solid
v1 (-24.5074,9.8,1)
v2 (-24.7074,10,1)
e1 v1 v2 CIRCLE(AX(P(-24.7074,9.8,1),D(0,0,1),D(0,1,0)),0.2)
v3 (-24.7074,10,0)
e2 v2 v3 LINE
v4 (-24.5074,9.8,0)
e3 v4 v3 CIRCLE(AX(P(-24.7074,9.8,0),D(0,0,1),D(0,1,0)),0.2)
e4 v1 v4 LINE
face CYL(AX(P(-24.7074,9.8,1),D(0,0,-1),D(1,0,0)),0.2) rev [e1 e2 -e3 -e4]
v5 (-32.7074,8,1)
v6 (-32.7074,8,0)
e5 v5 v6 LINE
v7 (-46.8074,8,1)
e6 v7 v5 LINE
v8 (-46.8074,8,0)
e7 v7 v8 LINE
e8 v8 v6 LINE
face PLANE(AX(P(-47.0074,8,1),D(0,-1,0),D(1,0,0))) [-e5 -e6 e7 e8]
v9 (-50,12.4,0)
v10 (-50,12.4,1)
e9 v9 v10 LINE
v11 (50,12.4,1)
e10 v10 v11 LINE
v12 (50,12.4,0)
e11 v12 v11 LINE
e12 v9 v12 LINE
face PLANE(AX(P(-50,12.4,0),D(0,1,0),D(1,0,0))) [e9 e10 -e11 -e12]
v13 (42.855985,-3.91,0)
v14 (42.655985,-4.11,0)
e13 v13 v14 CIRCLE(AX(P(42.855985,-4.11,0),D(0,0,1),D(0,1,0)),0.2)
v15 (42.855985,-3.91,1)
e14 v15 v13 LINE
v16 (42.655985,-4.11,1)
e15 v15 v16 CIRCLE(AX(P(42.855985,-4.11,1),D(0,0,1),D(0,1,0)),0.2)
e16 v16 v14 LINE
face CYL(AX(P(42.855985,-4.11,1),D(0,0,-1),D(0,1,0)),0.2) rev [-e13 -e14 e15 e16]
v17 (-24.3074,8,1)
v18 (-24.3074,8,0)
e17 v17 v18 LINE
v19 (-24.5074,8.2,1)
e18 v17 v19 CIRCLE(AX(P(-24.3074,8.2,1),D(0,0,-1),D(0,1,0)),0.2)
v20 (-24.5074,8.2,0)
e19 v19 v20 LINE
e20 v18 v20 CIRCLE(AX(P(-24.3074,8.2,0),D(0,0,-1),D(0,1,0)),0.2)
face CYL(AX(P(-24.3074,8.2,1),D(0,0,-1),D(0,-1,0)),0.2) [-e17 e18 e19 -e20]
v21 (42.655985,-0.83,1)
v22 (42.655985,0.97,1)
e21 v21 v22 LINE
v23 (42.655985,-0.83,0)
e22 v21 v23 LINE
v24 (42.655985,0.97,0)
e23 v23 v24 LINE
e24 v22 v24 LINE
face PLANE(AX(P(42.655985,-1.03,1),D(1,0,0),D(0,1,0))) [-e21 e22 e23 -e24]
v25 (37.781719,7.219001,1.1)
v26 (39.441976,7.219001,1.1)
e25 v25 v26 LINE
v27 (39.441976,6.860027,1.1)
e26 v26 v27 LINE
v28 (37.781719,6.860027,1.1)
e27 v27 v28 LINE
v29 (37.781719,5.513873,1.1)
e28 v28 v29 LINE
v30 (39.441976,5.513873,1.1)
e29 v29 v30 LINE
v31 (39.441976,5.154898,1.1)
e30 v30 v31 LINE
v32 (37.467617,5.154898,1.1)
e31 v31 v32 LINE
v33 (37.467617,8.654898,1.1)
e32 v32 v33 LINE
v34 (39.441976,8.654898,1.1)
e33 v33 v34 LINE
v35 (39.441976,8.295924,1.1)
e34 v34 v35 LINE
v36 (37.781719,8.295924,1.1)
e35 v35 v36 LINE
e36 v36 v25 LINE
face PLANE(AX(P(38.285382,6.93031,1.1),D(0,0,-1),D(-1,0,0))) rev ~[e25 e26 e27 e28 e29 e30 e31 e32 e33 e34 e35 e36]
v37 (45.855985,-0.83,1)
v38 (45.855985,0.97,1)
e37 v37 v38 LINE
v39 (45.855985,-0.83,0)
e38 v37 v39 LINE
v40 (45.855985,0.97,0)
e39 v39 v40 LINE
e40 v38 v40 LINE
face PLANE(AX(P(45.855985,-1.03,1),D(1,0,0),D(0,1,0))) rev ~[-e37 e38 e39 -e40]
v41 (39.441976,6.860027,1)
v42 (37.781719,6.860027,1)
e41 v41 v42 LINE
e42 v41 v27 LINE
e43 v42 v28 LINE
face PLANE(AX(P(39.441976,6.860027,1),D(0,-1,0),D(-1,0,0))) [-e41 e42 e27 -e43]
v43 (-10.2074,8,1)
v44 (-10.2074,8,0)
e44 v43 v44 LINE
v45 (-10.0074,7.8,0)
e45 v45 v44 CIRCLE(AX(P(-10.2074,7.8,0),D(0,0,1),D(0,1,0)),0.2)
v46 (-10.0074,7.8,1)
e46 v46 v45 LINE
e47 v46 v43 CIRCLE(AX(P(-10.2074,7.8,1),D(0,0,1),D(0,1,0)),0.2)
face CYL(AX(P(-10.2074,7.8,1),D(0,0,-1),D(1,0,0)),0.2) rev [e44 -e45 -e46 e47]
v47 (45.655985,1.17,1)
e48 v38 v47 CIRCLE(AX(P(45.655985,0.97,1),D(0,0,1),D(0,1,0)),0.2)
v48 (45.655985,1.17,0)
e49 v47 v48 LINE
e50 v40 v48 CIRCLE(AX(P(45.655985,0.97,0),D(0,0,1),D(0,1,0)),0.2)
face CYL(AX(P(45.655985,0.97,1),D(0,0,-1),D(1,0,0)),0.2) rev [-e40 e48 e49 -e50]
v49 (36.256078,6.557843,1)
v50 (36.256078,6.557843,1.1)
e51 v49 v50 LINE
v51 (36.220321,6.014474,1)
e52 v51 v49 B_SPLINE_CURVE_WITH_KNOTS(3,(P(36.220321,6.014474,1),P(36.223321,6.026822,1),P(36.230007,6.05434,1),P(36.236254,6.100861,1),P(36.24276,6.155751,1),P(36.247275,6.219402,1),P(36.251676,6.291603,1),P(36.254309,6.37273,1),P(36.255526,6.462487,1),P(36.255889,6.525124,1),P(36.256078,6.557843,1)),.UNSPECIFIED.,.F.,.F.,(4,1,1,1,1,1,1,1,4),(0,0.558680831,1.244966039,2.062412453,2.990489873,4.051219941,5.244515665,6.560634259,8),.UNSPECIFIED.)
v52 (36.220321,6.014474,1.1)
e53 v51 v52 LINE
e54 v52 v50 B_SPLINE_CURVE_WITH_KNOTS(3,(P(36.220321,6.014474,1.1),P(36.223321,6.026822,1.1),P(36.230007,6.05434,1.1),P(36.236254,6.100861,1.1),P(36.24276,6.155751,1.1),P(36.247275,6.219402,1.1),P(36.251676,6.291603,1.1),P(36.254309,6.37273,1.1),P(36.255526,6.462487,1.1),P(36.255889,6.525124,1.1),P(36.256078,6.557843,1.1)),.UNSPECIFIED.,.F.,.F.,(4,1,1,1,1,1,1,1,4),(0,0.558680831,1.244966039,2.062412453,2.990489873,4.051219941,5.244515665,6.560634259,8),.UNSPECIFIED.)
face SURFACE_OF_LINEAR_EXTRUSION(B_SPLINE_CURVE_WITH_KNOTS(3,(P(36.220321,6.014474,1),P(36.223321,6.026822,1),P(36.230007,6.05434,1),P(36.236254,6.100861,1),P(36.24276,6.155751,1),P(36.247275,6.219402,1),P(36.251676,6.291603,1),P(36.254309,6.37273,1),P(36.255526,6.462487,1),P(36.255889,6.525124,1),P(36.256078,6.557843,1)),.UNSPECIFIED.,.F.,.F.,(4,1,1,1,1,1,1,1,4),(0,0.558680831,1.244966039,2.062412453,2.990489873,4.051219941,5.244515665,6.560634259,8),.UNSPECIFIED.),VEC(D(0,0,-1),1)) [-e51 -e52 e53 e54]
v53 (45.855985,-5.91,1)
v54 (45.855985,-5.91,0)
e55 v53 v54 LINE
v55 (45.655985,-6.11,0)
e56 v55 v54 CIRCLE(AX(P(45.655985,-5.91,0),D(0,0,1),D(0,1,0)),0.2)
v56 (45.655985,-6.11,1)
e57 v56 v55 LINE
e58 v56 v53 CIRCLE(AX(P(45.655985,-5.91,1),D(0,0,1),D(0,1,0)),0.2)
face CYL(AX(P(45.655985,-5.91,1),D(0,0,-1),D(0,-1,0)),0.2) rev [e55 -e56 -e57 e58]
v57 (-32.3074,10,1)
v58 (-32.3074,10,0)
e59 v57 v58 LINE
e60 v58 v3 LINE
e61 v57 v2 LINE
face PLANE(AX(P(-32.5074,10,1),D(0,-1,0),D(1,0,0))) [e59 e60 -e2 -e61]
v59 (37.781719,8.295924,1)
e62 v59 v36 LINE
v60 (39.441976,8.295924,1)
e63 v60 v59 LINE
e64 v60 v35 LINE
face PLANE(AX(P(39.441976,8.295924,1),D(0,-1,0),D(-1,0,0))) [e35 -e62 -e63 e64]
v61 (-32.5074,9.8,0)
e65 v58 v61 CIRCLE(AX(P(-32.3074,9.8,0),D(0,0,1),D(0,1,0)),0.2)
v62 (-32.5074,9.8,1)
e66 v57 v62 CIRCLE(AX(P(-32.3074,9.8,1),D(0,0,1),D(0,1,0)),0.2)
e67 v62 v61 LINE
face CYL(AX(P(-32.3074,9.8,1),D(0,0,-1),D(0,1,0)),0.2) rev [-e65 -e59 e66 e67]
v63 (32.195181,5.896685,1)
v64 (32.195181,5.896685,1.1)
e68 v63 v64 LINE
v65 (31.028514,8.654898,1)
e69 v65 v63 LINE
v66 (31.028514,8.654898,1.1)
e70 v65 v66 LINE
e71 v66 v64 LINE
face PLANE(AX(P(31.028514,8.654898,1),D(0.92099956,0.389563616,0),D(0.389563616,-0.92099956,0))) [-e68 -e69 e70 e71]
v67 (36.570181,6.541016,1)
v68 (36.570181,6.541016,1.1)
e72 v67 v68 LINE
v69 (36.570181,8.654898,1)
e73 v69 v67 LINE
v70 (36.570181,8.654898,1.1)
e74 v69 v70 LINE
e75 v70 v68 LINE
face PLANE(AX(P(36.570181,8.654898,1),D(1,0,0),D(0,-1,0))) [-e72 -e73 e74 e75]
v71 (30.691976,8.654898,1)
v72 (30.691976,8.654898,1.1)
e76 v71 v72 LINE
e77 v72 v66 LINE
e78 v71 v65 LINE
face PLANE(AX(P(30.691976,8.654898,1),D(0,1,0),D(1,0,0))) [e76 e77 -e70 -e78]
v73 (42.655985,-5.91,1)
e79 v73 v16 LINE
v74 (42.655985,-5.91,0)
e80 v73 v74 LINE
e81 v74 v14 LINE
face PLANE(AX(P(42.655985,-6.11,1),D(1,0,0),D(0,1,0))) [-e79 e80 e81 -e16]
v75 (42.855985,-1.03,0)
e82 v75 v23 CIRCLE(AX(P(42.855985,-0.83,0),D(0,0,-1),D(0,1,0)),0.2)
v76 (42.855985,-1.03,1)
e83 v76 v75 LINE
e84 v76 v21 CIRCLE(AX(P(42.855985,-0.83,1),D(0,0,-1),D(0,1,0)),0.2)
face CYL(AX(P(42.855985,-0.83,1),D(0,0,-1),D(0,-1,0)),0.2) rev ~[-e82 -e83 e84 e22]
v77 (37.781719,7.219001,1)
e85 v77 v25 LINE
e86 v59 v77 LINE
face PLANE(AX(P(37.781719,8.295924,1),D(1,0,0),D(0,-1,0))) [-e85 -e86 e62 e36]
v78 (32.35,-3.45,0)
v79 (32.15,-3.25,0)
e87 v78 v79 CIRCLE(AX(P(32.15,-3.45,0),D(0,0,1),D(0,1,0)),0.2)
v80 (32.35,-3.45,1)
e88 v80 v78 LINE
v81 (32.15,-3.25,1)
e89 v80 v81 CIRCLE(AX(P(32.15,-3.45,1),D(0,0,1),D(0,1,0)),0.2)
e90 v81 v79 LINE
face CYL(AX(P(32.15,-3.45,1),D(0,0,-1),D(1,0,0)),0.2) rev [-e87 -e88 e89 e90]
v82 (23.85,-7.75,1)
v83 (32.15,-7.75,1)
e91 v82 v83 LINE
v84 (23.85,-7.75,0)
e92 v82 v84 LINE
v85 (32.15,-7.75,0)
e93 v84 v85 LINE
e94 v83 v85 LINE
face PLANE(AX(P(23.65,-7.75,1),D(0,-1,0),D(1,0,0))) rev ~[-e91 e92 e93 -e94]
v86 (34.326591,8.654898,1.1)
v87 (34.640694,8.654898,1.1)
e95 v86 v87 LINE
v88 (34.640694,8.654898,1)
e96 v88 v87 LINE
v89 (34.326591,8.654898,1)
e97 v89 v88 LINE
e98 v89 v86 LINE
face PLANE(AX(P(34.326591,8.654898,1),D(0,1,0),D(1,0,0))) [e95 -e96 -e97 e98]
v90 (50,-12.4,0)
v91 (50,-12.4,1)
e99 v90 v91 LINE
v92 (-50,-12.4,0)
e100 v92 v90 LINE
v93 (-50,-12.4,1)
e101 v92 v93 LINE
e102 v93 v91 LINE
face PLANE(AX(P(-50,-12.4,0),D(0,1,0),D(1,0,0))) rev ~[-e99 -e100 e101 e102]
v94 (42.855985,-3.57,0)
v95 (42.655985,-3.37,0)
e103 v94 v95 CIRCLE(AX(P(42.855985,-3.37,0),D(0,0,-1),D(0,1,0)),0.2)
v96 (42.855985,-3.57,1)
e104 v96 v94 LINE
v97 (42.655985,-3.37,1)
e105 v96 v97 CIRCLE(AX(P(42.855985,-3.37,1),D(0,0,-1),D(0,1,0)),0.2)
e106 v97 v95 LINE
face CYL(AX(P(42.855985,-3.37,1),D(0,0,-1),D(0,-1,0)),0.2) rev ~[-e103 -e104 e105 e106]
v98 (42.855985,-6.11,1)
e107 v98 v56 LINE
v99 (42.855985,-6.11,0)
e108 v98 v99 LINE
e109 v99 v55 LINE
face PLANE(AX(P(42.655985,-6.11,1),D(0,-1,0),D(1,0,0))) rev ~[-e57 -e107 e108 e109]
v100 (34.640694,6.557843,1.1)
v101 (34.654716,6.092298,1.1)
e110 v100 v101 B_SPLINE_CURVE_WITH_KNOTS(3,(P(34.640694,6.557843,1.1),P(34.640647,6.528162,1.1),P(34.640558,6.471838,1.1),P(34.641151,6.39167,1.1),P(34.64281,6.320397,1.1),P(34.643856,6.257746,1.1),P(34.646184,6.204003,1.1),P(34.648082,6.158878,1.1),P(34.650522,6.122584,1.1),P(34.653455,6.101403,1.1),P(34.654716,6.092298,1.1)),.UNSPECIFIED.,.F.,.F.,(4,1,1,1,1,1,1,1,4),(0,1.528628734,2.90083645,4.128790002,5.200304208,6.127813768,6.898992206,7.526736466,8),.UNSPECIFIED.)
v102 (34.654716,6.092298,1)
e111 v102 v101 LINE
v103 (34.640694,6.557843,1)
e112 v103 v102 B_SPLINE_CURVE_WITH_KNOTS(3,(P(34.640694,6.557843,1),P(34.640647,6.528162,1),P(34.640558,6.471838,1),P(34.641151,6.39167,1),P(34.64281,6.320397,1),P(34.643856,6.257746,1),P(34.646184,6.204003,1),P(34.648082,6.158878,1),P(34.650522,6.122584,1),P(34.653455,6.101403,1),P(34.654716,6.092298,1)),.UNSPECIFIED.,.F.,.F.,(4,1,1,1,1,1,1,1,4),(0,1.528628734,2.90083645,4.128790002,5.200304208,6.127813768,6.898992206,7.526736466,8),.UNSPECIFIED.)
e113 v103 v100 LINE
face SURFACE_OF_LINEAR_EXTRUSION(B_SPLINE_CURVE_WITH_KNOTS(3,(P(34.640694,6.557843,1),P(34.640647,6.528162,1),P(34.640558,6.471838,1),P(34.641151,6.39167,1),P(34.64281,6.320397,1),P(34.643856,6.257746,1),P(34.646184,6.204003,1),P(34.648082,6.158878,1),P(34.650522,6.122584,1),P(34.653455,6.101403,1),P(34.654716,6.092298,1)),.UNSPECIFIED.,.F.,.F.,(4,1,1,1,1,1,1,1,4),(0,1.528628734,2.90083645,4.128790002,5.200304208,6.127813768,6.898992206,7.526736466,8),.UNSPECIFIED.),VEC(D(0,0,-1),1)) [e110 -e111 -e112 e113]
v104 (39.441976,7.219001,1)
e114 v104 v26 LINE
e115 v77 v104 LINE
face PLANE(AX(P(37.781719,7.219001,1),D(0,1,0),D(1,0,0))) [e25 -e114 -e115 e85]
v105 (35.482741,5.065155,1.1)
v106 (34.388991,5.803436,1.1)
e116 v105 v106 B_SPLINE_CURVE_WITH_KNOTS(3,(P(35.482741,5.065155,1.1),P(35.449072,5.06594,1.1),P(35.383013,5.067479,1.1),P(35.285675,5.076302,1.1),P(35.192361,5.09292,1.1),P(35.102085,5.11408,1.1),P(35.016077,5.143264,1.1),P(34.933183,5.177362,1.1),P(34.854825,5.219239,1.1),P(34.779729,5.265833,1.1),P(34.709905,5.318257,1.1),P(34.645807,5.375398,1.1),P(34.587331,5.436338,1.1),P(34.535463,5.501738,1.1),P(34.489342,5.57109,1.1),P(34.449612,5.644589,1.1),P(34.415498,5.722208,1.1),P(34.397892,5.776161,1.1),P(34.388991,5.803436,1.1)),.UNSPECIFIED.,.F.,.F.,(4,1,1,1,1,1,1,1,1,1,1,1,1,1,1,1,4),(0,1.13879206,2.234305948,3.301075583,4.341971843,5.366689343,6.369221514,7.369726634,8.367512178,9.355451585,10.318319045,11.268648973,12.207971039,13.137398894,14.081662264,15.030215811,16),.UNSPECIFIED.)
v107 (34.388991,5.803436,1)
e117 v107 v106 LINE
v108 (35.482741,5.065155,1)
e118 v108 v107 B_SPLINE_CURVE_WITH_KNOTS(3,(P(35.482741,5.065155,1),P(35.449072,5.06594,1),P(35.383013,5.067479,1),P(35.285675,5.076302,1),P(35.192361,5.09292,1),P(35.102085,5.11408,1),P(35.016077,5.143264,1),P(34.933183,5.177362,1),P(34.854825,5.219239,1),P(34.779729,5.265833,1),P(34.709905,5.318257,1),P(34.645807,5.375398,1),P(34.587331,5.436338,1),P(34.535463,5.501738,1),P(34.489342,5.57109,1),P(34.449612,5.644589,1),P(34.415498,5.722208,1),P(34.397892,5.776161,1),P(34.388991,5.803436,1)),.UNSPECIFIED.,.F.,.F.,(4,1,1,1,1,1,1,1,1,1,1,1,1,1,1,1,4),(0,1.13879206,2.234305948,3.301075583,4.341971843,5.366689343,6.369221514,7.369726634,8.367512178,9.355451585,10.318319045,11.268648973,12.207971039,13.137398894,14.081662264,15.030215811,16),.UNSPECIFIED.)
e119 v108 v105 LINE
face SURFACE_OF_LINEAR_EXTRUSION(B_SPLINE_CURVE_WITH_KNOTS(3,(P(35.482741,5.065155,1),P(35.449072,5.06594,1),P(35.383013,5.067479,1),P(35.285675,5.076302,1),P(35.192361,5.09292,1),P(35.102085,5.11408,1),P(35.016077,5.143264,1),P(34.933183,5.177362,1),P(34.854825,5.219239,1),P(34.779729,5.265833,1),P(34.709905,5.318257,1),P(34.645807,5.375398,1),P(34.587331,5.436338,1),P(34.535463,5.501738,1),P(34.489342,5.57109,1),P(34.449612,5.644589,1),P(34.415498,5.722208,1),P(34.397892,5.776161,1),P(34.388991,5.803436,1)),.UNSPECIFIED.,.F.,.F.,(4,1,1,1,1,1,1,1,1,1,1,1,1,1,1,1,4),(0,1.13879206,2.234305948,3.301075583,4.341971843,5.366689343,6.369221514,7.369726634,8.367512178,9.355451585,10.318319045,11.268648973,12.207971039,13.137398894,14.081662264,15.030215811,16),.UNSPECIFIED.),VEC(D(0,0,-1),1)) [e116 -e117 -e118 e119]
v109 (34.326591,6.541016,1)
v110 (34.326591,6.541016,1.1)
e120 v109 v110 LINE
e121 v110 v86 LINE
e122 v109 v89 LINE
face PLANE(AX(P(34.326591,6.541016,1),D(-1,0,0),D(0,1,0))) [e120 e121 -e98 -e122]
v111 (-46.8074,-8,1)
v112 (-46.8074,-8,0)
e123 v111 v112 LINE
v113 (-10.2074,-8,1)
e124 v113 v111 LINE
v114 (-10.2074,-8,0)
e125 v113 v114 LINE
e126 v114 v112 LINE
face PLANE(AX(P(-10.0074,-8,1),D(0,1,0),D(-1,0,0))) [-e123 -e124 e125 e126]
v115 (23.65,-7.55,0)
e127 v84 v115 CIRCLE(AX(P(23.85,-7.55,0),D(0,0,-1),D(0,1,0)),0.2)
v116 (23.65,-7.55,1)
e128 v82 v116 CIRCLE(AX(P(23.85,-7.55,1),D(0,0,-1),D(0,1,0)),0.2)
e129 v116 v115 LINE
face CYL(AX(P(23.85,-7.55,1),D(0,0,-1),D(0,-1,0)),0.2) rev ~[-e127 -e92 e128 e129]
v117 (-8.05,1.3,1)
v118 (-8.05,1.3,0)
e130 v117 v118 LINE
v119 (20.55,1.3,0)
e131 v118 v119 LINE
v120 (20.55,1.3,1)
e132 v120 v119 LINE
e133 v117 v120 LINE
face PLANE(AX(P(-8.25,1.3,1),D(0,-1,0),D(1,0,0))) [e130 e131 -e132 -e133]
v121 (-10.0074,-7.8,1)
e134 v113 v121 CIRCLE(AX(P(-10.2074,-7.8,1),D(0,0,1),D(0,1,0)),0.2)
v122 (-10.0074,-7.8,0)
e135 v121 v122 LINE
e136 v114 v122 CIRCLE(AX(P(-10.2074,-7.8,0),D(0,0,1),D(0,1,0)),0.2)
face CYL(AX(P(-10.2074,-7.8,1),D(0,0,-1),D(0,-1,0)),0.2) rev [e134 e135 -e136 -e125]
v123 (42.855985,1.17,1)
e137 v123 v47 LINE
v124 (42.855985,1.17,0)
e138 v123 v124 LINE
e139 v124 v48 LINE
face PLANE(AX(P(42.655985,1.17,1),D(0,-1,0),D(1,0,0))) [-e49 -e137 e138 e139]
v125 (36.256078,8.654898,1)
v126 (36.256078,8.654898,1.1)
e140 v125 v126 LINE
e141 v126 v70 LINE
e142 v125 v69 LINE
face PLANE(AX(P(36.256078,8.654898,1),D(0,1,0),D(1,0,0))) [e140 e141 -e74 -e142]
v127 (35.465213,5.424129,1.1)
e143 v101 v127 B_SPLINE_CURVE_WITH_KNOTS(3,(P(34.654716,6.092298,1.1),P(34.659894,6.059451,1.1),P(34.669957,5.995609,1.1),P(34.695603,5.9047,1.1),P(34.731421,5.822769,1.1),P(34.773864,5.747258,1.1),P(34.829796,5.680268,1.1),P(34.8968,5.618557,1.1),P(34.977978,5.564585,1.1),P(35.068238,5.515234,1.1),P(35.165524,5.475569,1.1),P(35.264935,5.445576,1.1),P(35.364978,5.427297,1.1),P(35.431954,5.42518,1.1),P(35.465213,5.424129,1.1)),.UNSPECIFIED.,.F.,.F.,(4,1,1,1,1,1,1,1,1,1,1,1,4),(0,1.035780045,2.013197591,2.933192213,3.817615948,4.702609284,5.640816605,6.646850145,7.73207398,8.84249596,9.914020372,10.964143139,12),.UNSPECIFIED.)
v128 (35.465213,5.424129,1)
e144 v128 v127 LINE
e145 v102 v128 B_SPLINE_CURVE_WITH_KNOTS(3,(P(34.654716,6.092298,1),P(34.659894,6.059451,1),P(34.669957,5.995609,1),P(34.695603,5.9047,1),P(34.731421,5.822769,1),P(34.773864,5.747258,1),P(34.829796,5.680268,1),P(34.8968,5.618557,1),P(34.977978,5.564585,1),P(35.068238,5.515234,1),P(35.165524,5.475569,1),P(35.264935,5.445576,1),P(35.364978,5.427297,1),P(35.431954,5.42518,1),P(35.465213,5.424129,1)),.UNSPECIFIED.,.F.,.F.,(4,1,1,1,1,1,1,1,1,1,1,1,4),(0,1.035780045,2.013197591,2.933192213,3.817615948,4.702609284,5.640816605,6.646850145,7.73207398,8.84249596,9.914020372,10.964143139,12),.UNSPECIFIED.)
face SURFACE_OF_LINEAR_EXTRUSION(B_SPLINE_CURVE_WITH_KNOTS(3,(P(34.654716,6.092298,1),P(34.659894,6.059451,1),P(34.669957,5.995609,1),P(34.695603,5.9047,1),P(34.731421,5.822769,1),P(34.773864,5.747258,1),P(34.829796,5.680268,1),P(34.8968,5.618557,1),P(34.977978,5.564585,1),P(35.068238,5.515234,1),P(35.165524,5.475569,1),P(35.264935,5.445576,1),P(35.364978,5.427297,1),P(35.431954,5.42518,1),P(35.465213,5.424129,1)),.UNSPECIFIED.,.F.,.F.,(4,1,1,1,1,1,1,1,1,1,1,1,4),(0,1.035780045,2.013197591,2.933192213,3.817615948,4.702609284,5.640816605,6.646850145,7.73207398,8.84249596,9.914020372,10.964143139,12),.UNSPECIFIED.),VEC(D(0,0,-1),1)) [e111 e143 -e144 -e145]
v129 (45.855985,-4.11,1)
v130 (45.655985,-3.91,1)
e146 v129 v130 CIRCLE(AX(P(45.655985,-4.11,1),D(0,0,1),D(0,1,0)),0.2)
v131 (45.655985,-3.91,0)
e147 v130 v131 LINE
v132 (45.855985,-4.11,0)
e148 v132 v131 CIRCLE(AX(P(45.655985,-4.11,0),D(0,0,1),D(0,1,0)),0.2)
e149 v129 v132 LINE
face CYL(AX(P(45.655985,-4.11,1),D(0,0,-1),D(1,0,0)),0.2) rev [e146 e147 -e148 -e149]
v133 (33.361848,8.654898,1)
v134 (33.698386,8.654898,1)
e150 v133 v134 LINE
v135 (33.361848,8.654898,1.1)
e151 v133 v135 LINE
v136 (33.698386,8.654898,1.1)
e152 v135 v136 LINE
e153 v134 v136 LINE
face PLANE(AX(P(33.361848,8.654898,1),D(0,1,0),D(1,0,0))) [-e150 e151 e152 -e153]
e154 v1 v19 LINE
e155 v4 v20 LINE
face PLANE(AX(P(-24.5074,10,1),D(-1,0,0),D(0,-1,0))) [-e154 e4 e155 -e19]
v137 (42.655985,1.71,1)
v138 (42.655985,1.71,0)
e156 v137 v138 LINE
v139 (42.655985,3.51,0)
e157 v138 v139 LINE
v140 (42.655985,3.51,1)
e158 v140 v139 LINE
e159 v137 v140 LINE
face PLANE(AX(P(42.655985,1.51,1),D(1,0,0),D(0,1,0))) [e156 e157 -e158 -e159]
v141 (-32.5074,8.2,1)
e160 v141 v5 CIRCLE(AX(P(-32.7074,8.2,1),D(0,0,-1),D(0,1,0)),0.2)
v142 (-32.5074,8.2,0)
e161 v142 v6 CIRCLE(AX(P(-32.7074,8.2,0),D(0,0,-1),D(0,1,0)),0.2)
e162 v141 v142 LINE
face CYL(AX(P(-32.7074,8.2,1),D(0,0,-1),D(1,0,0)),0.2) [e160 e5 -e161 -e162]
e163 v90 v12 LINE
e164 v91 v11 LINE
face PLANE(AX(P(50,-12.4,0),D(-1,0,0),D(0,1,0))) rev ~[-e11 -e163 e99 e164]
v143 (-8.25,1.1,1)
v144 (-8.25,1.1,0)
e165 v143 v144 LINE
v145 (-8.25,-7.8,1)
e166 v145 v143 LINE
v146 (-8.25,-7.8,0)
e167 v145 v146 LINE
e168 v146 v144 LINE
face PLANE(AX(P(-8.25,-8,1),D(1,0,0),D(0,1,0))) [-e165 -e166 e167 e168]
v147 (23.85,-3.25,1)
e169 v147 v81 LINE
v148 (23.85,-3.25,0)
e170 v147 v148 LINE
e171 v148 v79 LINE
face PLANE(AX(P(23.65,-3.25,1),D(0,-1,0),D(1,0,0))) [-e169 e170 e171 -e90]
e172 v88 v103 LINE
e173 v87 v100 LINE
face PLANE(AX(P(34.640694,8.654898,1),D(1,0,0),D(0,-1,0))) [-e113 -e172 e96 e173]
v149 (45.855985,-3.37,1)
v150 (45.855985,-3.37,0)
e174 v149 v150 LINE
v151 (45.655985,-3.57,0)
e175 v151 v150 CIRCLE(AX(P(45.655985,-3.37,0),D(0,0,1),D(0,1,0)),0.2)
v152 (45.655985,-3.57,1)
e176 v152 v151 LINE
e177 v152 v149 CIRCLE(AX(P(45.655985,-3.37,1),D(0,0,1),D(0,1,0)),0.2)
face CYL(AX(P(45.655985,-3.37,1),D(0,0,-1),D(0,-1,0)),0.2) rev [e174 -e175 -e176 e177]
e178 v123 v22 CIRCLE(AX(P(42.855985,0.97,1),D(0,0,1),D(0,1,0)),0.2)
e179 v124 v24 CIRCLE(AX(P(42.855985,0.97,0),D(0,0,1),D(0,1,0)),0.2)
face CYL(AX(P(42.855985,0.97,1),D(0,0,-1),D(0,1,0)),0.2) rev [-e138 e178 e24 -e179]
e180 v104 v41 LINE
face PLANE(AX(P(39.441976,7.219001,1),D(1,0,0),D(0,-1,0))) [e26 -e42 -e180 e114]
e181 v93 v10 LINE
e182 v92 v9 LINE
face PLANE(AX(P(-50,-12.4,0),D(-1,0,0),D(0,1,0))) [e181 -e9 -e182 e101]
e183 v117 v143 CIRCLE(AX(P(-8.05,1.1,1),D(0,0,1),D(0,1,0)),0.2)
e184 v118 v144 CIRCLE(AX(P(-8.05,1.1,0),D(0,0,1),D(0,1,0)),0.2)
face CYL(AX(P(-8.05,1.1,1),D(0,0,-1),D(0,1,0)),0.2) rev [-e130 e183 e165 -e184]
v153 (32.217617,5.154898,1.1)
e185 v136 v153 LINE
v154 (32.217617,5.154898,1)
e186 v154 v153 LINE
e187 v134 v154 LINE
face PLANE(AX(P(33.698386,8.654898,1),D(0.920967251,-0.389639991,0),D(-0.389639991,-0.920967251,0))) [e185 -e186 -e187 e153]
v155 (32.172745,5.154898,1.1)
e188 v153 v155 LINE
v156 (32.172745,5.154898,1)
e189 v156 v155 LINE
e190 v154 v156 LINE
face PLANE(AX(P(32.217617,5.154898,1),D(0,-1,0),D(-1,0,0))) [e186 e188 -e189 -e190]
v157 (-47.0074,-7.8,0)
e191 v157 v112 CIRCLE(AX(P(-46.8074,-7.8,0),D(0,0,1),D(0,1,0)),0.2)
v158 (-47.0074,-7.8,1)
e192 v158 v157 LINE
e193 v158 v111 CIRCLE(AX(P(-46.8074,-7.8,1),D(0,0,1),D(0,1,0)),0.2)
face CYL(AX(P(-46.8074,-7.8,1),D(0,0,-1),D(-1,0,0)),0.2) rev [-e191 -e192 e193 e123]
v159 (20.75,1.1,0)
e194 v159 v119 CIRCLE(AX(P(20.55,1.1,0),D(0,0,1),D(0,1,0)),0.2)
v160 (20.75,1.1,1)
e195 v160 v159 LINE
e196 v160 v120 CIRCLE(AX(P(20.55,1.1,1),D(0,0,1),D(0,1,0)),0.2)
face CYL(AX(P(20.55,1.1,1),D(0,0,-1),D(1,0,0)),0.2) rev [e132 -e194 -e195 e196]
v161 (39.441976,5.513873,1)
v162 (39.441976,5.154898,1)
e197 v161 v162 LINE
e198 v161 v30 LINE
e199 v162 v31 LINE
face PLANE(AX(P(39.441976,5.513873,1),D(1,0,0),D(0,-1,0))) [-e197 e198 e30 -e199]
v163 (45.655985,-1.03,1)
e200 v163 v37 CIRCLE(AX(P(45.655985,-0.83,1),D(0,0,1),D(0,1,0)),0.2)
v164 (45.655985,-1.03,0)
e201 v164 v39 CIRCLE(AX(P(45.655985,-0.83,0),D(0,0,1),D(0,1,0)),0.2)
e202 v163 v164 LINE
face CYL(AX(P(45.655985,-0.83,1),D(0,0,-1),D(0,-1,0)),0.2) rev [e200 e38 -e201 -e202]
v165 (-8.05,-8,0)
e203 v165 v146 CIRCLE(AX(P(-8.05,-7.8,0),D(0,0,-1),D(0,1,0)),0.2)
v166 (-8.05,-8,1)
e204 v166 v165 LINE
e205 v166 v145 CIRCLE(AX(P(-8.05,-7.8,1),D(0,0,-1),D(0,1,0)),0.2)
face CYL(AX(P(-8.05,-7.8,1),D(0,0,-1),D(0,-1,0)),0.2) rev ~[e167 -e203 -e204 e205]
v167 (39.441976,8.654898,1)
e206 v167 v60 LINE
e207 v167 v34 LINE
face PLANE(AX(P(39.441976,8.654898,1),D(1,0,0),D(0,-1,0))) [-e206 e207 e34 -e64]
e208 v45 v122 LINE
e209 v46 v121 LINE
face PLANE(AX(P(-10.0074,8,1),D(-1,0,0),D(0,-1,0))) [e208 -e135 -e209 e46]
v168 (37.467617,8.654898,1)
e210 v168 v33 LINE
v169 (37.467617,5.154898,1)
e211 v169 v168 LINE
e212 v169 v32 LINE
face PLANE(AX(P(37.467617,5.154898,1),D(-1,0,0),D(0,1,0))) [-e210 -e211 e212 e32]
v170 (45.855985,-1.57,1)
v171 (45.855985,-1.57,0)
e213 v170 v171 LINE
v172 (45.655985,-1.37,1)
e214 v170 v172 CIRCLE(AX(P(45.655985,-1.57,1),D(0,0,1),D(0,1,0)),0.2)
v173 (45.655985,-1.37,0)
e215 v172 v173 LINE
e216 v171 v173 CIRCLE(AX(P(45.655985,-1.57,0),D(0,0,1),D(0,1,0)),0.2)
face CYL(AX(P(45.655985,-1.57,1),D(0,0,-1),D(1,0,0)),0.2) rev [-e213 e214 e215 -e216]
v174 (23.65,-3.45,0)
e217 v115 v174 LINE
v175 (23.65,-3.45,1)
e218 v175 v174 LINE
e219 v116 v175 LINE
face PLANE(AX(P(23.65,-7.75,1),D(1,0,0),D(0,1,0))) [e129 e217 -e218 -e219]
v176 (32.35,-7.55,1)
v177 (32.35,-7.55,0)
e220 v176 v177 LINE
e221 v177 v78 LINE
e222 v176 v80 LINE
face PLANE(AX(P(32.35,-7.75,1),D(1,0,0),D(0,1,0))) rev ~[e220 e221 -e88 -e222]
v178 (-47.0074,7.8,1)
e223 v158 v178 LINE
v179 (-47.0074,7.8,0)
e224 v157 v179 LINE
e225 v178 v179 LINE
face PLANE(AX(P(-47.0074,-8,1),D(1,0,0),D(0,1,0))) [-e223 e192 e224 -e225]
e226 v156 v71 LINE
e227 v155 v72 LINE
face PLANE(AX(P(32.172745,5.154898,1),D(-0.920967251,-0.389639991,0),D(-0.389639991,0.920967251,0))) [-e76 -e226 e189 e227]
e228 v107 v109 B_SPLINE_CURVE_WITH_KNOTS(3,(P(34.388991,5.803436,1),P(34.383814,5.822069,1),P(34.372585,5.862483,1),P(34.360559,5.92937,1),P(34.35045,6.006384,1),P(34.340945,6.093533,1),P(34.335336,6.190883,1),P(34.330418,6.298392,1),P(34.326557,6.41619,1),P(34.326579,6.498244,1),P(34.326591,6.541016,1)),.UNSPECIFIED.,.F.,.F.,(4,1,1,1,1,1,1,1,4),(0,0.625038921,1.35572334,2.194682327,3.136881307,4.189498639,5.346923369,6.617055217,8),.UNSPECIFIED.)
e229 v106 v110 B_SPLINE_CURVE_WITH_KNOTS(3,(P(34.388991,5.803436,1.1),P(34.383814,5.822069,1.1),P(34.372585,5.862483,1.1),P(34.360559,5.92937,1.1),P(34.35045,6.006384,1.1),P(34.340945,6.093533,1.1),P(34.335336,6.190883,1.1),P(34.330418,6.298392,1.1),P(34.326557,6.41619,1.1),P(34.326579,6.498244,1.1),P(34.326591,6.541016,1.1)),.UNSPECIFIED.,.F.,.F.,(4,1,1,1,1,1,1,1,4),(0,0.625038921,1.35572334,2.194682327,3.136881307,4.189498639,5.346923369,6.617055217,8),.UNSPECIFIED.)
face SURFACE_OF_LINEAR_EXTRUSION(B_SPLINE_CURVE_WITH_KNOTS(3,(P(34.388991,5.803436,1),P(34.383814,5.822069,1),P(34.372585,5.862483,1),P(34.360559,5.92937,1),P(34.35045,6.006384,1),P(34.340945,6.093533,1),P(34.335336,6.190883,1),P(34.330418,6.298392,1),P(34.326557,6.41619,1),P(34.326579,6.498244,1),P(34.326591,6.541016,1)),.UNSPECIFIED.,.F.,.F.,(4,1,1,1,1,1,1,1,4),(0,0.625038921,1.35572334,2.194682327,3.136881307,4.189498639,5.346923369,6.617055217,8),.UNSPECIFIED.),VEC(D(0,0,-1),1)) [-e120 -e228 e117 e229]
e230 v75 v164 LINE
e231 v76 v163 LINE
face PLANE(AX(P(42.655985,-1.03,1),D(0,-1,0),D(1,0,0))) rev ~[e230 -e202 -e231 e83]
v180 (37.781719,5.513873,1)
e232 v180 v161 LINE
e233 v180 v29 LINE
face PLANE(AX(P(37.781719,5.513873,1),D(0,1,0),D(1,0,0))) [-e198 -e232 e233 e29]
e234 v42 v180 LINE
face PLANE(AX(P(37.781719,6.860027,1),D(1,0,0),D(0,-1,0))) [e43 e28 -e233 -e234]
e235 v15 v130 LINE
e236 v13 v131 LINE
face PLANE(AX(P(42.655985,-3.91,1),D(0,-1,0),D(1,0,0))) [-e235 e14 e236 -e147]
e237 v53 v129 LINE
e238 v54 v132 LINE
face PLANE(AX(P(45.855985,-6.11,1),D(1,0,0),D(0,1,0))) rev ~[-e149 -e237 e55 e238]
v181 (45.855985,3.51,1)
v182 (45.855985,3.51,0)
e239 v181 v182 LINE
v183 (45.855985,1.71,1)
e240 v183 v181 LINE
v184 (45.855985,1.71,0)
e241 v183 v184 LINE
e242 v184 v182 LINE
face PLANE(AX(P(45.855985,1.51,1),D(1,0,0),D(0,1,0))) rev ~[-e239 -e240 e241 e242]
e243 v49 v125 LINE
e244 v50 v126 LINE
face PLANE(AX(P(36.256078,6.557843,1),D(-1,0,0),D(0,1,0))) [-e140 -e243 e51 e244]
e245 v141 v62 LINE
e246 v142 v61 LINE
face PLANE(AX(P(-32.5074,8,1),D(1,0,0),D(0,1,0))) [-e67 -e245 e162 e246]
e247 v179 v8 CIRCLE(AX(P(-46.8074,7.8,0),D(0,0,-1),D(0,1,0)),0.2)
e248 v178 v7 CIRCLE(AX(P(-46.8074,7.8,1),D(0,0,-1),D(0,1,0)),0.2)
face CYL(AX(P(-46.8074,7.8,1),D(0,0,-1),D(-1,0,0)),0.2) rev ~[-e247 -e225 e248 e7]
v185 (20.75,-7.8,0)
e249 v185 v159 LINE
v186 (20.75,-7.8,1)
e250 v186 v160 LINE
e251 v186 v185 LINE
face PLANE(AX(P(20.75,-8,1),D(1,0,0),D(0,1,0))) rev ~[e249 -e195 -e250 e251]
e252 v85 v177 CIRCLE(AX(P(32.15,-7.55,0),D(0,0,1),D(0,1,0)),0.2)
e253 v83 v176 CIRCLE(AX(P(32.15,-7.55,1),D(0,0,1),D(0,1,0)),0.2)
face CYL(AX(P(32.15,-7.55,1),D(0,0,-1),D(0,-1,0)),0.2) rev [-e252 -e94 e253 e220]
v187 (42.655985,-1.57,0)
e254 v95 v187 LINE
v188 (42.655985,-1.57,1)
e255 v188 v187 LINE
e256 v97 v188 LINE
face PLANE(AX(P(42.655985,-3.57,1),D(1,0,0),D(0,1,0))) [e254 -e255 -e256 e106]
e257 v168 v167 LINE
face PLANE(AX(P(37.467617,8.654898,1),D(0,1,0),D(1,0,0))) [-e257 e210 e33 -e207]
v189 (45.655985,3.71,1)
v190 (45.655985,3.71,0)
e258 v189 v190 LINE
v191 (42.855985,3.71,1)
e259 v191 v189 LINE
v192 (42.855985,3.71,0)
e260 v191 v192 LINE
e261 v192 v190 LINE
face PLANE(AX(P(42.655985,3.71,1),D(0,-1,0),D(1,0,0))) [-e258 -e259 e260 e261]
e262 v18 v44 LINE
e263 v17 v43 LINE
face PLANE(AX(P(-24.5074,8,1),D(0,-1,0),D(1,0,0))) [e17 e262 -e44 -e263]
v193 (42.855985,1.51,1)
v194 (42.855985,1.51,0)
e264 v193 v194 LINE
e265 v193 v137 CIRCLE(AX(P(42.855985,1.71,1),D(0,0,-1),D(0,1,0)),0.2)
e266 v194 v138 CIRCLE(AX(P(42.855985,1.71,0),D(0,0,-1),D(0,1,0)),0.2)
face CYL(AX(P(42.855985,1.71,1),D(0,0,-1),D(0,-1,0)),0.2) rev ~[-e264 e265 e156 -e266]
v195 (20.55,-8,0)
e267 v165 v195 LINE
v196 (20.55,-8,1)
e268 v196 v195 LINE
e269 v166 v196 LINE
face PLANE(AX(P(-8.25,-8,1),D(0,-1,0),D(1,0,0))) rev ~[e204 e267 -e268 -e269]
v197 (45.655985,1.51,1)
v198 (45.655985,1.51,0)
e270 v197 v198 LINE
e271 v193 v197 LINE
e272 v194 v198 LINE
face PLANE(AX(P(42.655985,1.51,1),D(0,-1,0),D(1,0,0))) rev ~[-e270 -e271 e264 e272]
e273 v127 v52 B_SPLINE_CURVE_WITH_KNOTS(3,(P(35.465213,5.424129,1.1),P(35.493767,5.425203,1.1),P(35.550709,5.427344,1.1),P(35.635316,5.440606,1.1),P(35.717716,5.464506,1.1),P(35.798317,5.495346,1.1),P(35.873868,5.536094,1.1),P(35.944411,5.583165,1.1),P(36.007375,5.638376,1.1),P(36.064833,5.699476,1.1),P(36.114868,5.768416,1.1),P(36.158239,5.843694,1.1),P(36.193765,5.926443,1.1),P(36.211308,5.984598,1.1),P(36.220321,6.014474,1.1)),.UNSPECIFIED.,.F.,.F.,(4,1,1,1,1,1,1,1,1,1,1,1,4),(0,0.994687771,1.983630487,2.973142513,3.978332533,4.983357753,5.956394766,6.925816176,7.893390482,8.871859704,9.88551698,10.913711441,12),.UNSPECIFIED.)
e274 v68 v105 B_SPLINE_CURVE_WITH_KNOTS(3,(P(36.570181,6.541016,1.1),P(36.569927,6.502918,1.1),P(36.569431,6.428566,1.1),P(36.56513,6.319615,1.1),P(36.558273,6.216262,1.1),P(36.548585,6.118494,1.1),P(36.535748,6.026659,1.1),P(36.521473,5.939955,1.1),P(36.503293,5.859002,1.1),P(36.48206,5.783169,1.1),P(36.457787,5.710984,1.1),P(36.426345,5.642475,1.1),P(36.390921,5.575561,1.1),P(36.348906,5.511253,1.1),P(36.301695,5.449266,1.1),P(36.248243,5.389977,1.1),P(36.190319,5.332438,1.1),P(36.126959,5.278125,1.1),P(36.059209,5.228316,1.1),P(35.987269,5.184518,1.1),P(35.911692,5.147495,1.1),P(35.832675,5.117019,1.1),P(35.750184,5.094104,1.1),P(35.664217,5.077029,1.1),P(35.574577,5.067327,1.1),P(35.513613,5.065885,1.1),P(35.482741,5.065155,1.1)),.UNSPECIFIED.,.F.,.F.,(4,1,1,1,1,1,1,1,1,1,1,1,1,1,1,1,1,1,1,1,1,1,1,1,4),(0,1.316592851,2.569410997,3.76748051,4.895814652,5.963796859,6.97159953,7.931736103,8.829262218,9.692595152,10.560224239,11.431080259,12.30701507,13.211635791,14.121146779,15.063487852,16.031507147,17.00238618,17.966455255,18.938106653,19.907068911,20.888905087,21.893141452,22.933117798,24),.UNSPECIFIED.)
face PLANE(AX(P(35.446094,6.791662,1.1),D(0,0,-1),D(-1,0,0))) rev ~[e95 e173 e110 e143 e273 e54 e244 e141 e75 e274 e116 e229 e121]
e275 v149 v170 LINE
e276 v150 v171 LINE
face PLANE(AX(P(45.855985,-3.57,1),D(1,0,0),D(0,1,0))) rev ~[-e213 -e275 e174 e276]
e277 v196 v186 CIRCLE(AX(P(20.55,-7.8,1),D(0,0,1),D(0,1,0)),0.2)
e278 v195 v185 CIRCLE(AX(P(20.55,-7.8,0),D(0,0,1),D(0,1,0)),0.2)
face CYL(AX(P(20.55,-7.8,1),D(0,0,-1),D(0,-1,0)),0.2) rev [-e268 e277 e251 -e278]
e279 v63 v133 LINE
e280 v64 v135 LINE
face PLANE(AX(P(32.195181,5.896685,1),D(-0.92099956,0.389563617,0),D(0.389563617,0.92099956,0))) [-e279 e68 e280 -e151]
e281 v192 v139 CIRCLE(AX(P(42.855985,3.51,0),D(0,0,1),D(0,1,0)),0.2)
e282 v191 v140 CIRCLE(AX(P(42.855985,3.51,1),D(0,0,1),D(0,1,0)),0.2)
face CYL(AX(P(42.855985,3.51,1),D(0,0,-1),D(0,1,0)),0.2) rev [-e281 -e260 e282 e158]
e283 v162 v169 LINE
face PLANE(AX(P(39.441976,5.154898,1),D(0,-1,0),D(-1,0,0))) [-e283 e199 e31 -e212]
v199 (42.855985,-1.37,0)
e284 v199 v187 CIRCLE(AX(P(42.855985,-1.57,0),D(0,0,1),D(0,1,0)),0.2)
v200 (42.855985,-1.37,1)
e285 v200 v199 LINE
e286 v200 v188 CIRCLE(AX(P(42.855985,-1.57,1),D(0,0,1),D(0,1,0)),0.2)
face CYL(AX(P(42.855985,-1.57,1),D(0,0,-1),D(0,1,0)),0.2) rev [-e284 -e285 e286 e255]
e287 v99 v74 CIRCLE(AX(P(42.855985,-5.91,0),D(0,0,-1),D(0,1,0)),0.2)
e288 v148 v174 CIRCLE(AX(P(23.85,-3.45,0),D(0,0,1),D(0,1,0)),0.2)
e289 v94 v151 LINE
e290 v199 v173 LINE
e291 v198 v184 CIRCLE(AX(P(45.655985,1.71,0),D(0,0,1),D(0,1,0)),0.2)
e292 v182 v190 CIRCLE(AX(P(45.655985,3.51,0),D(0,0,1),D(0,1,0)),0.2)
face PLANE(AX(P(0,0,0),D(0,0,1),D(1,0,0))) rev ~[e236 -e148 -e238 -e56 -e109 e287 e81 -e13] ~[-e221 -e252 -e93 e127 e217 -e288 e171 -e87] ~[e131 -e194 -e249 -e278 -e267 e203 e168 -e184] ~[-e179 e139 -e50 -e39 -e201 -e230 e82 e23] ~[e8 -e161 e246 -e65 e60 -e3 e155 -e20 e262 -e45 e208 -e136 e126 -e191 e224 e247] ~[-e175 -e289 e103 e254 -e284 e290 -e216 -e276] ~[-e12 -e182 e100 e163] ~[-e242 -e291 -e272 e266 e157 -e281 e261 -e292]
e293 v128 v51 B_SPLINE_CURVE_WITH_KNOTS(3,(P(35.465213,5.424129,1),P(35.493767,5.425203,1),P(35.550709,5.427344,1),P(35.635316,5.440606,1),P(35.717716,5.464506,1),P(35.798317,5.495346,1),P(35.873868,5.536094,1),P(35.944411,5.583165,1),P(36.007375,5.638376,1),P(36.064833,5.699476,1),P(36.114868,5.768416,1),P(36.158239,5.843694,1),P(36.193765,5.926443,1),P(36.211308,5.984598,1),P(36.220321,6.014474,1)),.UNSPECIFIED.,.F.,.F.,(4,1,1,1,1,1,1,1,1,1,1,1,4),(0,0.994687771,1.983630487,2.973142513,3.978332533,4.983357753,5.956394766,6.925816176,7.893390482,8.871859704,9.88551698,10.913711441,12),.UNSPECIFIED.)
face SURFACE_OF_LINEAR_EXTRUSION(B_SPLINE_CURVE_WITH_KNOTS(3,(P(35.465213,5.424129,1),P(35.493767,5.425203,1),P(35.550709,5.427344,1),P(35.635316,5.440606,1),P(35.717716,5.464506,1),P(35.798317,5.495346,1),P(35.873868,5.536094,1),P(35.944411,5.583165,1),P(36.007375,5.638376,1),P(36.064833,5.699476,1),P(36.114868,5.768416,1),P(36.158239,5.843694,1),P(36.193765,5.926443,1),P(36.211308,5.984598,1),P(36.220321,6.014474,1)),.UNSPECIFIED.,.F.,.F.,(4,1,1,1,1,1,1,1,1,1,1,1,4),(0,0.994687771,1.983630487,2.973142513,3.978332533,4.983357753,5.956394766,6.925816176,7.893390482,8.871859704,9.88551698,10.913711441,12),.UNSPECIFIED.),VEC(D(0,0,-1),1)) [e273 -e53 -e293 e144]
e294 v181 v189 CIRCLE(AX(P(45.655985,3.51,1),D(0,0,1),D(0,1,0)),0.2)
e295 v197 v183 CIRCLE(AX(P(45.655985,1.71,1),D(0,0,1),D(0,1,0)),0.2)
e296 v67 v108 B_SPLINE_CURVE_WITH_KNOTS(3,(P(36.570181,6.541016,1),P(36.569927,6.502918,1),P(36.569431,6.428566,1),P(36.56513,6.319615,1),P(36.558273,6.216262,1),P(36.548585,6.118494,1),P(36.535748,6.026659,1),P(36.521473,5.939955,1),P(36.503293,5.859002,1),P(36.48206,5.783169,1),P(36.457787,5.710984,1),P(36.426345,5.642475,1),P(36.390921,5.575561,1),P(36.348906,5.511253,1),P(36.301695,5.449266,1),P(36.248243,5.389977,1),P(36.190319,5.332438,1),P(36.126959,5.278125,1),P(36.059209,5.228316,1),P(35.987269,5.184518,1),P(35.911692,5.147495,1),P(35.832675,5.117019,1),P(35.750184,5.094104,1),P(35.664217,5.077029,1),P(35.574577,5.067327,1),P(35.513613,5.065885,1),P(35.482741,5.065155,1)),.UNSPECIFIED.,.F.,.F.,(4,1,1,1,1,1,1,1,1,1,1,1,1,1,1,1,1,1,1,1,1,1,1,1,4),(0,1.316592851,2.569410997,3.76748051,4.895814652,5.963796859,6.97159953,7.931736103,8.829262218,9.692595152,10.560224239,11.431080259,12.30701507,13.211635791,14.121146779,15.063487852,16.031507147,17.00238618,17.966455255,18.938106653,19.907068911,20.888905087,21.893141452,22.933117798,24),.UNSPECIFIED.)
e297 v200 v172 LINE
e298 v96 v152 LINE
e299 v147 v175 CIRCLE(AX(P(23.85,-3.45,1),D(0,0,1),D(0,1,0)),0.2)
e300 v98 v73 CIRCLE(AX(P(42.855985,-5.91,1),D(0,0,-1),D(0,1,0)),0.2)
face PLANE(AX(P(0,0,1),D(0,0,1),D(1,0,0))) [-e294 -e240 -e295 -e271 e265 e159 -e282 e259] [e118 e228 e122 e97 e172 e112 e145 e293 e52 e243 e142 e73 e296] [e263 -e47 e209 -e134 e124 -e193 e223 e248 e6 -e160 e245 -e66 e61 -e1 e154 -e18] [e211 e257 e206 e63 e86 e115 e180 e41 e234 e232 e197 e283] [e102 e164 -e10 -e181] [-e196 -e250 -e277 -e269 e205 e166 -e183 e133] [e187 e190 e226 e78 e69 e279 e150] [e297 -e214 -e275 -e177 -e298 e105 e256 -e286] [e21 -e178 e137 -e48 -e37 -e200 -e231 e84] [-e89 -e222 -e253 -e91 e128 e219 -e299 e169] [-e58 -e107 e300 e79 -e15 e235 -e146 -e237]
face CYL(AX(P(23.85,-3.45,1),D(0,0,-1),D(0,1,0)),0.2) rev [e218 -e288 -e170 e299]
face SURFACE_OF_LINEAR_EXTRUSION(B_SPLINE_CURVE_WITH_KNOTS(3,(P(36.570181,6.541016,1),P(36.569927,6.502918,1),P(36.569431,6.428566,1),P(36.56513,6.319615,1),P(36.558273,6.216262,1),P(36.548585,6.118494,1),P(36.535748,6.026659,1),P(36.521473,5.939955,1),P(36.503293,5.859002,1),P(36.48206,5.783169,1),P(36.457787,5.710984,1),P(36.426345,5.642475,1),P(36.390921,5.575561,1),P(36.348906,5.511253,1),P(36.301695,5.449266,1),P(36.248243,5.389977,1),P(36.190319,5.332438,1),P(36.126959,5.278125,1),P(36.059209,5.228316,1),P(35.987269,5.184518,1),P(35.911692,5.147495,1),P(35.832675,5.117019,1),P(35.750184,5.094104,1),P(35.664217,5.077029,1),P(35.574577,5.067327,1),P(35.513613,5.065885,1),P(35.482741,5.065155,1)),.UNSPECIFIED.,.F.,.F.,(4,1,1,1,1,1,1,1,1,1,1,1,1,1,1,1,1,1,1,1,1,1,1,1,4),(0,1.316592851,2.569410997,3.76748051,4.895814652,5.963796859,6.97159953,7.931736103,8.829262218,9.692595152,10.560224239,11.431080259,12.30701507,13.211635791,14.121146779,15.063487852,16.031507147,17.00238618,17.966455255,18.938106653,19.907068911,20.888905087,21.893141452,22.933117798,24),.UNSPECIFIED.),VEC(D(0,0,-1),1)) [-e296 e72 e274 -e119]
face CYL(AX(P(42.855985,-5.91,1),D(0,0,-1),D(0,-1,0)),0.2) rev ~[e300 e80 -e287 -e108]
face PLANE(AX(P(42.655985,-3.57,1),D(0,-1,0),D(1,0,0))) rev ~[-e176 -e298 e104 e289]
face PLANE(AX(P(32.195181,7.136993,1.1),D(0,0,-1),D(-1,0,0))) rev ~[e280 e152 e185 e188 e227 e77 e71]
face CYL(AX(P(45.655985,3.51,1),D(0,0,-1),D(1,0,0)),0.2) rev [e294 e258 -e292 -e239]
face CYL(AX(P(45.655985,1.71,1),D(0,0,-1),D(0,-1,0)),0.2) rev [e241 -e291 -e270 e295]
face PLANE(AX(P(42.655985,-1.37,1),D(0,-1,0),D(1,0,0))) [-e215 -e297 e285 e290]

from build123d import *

# Parameters (mm, degrees)
ESQUISSE1_W             = 100
ESQUISSE1_H             = 24.8
BOSS_EXTRU_1_DEPTH      = 1
ESQUISSE2_W             = 29
ESQUISSE2_H             = 9.3
ESQUISSE2_W_2           = 8.7
ESQUISSE2_H_2           = 4.5
ESQUISSE2_W_3           = 3.2
ESQUISSE2_H_3           = 2.2
ENL_V_MAT_EXTRU_1_DEPTH = 52.524363169
CONG_1_R                = 0.2
BOSS_EXTRU_2_DEPTH      = 0.1


with BuildPart() as part:
    # Esquisse1 → Boss.-Extru.1 (new body)
    with BuildSketch(Plane.XY):
        Rectangle(ESQUISSE1_W, ESQUISSE1_H)
    extrude(amount=BOSS_EXTRU_1_DEPTH)

    # Esquisse2 → Enlèv. mat.-Extru.1 (cut, through all)
    with BuildSketch(Plane.XY.offset(1)):
        Polygon((-47.0074, 8), (-32.5074, 8), (-32.5074, 10), (-24.5074, 10), (-24.5074, 8), (-10.0074, 8), (-10.0074, -8), (-47.0074, -8), align=None)
        with Locations((6.25, -3.35)):
            Rectangle(ESQUISSE2_W, ESQUISSE2_H)
        with Locations((28, -5.5)):
            Rectangle(ESQUISSE2_W_2, ESQUISSE2_H_2)
        with Locations((44.255985376, 2.61)):
            Rectangle(ESQUISSE2_W_3, ESQUISSE2_H_3)
        with Locations((44.255985376, 0.07)):
            Rectangle(ESQUISSE2_W_3, ESQUISSE2_H_3)
        with Locations((44.255985376, -2.47)):
            Rectangle(ESQUISSE2_W_3, ESQUISSE2_H_3)
        with Locations((44.255985376, -5.01)):
            Rectangle(ESQUISSE2_W_3, ESQUISSE2_H_3)
    extrude(amount=-ENL_V_MAT_EXTRU_1_DEPTH, mode=Mode.SUBTRACT)

    # Congé1
    cong_1_edges = [part.edges().sort_by_distance(p)[0] for p in [
        (45.855985376, -3.91, 0.5),
        (45.855985376, -6.11, 0.5),
        (42.655985376, -6.11, 0.5),
        (42.655985376, -3.91, 0.5),
        (-47.0074, -8, 0.5),
        (-47.0074, 8, 0.5),
        (-32.5074, 8, 0.5),
        (-32.5074, 10, 0.5),
        (-24.5074, 10, 0.5),
        (-24.5074, 8, 0.5),
        (-10.0074, 8, 0.5),
        (-10.0074, -8, 0.5),
        (-8.25, -8, 0.5),
        (-8.25, 1.3, 0.5),
        (20.75, 1.3, 0.5),
        (20.75, -8, 0.5),
        (23.65, -7.75, 0.5),
        (23.65, -3.25, 0.5),
        (32.35, -3.25, 0.5),
        (32.35, -7.75, 0.5),
        (45.855985376, 3.71, 0.5),
        (45.855985376, 1.51, 0.5),
        (42.655985376, 1.51, 0.5),
        (42.655985376, 3.71, 0.5),
        (45.855985376, 1.17, 0.5),
        (45.855985376, -1.03, 0.5),
        (42.655985376, -1.03, 0.5),
        (42.655985376, 1.17, 0.5),
        (45.855985376, -1.37, 0.5),
        (45.855985376, -3.57, 0.5),
        (42.655985376, -3.57, 0.5),
        (42.655985376, -1.37, 0.5),
    ]]
    fillet(cong_1_edges, radius=CONG_1_R)

    # Esquisse3 → Boss.-Extru.2 (add)
    with BuildSketch(Plane.XY.offset(1)):
        Polygon((30.691975839, 8.654898364), (31.028514301, 8.654898364), (32.195180967, 5.896685223), (33.361847634, 8.654898364), (33.698386096, 8.654898364), (32.217616865, 5.154898364), (32.17274507, 5.154898364), align=None)
        with BuildLine():
            Line((34.326591224, 8.654898364), (34.640693788, 8.654898364))
            Line((34.640693788, 8.654898364), (34.640693788, 6.557843075))
            add(Edge.make_bspline(
                [(34.640693788, 6.557843075), (34.640647044, 6.528162339), (34.640558339, 6.471838028), (34.641150853, 6.391669728), (34.642810222, 6.320397269), (34.643856381, 6.257745921), (34.646183715, 6.204003174), (34.648081761, 6.158877863), (34.650522318, 6.122583661), (34.653455436, 6.101402735), (34.654716224, 6.092298203)],
                knots=[0, 0, 0, 0, 1.528628734, 2.90083645, 4.128790002, 5.200304208, 6.127813768, 6.898992206, 7.526736466, 8, 8, 8, 8], degree=3))
            add(Edge.make_bspline(
                [(34.654716224, 6.092298203), (34.659893683, 6.05945144), (34.669956869, 5.995608711), (34.695603247, 5.904700429), (34.731420748, 5.822768971), (34.77386379, 5.74725768), (34.829796402, 5.68026832), (34.896799937, 5.618556667), (34.977977706, 5.564584862), (35.068238311, 5.51523405), (35.165523549, 5.475568968), (35.264934815, 5.445575604), (35.364977794, 5.427296704), (35.431953959, 5.425180165), (35.465213019, 5.424129133)],
                knots=[0, 0, 0, 0, 1.035780045, 2.013197591, 2.933192213, 3.817615948, 4.702609284, 5.640816605, 6.646850145, 7.73207398, 8.84249596, 9.914020372, 10.964143139, 12, 12, 12, 12], degree=3))
            add(Edge.make_bspline(
                [(35.465213019, 5.424129133), (35.493766759, 5.425202983), (35.550709321, 5.427344481), (35.635315752, 5.440605912), (35.71771586, 5.464506478), (35.79831654, 5.495346237), (35.873867525, 5.536093828), (35.944410967, 5.583164667), (36.007374901, 5.638375543), (36.064832899, 5.699475888), (36.114867835, 5.768415688), (36.158238976, 5.843693826), (36.193764906, 5.926443173), (36.211308431, 5.984597595), (36.220321192, 6.014473684)],
                knots=[0, 0, 0, 0, 0.994687771, 1.983630487, 2.973142513, 3.978332533, 4.983357753, 5.956394766, 6.925816176, 7.893390482, 8.871859704, 9.88551698, 10.913711441, 12, 12, 12, 12], degree=3))
            add(Edge.make_bspline(
                [(36.220321192, 6.014473684), (36.223321317, 6.026822258), (36.230006805, 6.054339859), (36.23625385, 6.100861149), (36.242760376, 6.155750513), (36.247274946, 6.219402326), (36.251676166, 6.291603299), (36.254309239, 6.372729556), (36.255526272, 6.462486517), (36.255888952, 6.525123679), (36.256078403, 6.557843075)],
                knots=[0, 0, 0, 0, 0.558680831, 1.244966039, 2.062412453, 2.990489873, 4.051219941, 5.244515665, 6.560634259, 8, 8, 8, 8], degree=3))
            Line((36.256078403, 6.557843075), (36.256078403, 8.654898364))
            Line((36.256078403, 8.654898364), (36.570180967, 8.654898364))
            Line((36.570180967, 8.654898364), (36.570180967, 6.541016152))
            add(Edge.make_bspline(
                [(36.570180967, 6.541016152), (36.569926847, 6.502917773), (36.569430916, 6.42856647), (36.565130339, 6.319615111), (36.558273339, 6.21626213), (36.548585251, 6.118493633), (36.535748248, 6.026659474), (36.521473028, 5.939954706), (36.503293495, 5.859001713), (36.482060093, 5.783169296), (36.457786545, 5.710983782), (36.426345397, 5.642475168), (36.390920897, 5.575560768), (36.348906244, 5.511252659), (36.301694862, 5.449266106), (36.248243181, 5.389977031), (36.19031902, 5.332437985), (36.12695946, 5.278124919), (36.059208935, 5.228316242), (35.987268977, 5.184518471), (35.911692208, 5.147494853), (35.832675082, 5.117018929), (35.750183879, 5.094104329), (35.664216519, 5.077029174), (35.574577326, 5.067326876), (35.513612669, 5.065884946), (35.482741064, 5.065154774)],
                knots=[0, 0, 0, 0, 1.316592851, 2.569410997, 3.76748051, 4.895814652, 5.963796859, 6.97159953, 7.931736103, 8.829262218, 9.692595152, 10.560224239, 11.431080259, 12.30701507, 13.211635791, 14.121146779, 15.063487852, 16.031507147, 17.00238618, 17.966455255, 18.938106653, 19.907068911, 20.888905087, 21.893141452, 22.933117798, 24, 24, 24, 24], degree=3))
            add(Edge.make_bspline(
                [(35.482741064, 5.065154774), (35.449071961, 5.065939539), (35.383013302, 5.067479246), (35.285675235, 5.076301996), (35.192361039, 5.09292039), (35.102085161, 5.114080334), (35.016076664, 5.143264071), (34.93318322, 5.177362196), (34.854824539, 5.219239456), (34.77972941, 5.265832849), (34.709904654, 5.318257488), (34.645807251, 5.375397662), (34.58733138, 5.436338039), (34.535462684, 5.501738405), (34.489341799, 5.571090112), (34.449611586, 5.644589352), (34.415498342, 5.722207668), (34.397891775, 5.776160868), (34.388991064, 5.803436024)],
                knots=[0, 0, 0, 0, 1.13879206, 2.234305948, 3.301075583, 4.341971843, 5.366689343, 6.369221514, 7.369726634, 8.367512178, 9.355451585, 10.318319045, 11.268648973, 12.207971039, 13.137398894, 14.081662264, 15.030215811, 16, 16, 16, 16], degree=3))
            add(Edge.make_bspline(
                [(34.388991064, 5.803436024), (34.383813905, 5.822068598), (34.372584534, 5.862483067), (34.360559236, 5.929369556), (34.350450155, 6.006384473), (34.340944597, 6.093533092), (34.335335639, 6.190882958), (34.3304182, 6.298391874), (34.326556581, 6.416189836), (34.326579353, 6.498244352), (34.326591224, 6.541016152)],
                knots=[0, 0, 0, 0, 0.625038921, 1.35572334, 2.194682327, 3.136881307, 4.189498639, 5.346923369, 6.617055217, 8, 8, 8, 8], degree=3))
            Line((34.326591224, 6.541016152), (34.326591224, 8.654898364))
        make_face()
        Polygon((37.467616865, 8.654898364), (39.441975839, 8.654898364), (39.441975839, 8.295924005), (37.781719429, 8.295924005), (37.781719429, 7.219000928), (39.441975839, 7.219000928), (39.441975839, 6.860026569), (37.781719429, 6.860026569), (37.781719429, 5.513872723), (39.441975839, 5.513872723), (39.441975839, 5.154898364), (37.467616865, 5.154898364), align=None)
    extrude(amount=BOSS_EXTRU_2_DEPTH)


solid = part.part
